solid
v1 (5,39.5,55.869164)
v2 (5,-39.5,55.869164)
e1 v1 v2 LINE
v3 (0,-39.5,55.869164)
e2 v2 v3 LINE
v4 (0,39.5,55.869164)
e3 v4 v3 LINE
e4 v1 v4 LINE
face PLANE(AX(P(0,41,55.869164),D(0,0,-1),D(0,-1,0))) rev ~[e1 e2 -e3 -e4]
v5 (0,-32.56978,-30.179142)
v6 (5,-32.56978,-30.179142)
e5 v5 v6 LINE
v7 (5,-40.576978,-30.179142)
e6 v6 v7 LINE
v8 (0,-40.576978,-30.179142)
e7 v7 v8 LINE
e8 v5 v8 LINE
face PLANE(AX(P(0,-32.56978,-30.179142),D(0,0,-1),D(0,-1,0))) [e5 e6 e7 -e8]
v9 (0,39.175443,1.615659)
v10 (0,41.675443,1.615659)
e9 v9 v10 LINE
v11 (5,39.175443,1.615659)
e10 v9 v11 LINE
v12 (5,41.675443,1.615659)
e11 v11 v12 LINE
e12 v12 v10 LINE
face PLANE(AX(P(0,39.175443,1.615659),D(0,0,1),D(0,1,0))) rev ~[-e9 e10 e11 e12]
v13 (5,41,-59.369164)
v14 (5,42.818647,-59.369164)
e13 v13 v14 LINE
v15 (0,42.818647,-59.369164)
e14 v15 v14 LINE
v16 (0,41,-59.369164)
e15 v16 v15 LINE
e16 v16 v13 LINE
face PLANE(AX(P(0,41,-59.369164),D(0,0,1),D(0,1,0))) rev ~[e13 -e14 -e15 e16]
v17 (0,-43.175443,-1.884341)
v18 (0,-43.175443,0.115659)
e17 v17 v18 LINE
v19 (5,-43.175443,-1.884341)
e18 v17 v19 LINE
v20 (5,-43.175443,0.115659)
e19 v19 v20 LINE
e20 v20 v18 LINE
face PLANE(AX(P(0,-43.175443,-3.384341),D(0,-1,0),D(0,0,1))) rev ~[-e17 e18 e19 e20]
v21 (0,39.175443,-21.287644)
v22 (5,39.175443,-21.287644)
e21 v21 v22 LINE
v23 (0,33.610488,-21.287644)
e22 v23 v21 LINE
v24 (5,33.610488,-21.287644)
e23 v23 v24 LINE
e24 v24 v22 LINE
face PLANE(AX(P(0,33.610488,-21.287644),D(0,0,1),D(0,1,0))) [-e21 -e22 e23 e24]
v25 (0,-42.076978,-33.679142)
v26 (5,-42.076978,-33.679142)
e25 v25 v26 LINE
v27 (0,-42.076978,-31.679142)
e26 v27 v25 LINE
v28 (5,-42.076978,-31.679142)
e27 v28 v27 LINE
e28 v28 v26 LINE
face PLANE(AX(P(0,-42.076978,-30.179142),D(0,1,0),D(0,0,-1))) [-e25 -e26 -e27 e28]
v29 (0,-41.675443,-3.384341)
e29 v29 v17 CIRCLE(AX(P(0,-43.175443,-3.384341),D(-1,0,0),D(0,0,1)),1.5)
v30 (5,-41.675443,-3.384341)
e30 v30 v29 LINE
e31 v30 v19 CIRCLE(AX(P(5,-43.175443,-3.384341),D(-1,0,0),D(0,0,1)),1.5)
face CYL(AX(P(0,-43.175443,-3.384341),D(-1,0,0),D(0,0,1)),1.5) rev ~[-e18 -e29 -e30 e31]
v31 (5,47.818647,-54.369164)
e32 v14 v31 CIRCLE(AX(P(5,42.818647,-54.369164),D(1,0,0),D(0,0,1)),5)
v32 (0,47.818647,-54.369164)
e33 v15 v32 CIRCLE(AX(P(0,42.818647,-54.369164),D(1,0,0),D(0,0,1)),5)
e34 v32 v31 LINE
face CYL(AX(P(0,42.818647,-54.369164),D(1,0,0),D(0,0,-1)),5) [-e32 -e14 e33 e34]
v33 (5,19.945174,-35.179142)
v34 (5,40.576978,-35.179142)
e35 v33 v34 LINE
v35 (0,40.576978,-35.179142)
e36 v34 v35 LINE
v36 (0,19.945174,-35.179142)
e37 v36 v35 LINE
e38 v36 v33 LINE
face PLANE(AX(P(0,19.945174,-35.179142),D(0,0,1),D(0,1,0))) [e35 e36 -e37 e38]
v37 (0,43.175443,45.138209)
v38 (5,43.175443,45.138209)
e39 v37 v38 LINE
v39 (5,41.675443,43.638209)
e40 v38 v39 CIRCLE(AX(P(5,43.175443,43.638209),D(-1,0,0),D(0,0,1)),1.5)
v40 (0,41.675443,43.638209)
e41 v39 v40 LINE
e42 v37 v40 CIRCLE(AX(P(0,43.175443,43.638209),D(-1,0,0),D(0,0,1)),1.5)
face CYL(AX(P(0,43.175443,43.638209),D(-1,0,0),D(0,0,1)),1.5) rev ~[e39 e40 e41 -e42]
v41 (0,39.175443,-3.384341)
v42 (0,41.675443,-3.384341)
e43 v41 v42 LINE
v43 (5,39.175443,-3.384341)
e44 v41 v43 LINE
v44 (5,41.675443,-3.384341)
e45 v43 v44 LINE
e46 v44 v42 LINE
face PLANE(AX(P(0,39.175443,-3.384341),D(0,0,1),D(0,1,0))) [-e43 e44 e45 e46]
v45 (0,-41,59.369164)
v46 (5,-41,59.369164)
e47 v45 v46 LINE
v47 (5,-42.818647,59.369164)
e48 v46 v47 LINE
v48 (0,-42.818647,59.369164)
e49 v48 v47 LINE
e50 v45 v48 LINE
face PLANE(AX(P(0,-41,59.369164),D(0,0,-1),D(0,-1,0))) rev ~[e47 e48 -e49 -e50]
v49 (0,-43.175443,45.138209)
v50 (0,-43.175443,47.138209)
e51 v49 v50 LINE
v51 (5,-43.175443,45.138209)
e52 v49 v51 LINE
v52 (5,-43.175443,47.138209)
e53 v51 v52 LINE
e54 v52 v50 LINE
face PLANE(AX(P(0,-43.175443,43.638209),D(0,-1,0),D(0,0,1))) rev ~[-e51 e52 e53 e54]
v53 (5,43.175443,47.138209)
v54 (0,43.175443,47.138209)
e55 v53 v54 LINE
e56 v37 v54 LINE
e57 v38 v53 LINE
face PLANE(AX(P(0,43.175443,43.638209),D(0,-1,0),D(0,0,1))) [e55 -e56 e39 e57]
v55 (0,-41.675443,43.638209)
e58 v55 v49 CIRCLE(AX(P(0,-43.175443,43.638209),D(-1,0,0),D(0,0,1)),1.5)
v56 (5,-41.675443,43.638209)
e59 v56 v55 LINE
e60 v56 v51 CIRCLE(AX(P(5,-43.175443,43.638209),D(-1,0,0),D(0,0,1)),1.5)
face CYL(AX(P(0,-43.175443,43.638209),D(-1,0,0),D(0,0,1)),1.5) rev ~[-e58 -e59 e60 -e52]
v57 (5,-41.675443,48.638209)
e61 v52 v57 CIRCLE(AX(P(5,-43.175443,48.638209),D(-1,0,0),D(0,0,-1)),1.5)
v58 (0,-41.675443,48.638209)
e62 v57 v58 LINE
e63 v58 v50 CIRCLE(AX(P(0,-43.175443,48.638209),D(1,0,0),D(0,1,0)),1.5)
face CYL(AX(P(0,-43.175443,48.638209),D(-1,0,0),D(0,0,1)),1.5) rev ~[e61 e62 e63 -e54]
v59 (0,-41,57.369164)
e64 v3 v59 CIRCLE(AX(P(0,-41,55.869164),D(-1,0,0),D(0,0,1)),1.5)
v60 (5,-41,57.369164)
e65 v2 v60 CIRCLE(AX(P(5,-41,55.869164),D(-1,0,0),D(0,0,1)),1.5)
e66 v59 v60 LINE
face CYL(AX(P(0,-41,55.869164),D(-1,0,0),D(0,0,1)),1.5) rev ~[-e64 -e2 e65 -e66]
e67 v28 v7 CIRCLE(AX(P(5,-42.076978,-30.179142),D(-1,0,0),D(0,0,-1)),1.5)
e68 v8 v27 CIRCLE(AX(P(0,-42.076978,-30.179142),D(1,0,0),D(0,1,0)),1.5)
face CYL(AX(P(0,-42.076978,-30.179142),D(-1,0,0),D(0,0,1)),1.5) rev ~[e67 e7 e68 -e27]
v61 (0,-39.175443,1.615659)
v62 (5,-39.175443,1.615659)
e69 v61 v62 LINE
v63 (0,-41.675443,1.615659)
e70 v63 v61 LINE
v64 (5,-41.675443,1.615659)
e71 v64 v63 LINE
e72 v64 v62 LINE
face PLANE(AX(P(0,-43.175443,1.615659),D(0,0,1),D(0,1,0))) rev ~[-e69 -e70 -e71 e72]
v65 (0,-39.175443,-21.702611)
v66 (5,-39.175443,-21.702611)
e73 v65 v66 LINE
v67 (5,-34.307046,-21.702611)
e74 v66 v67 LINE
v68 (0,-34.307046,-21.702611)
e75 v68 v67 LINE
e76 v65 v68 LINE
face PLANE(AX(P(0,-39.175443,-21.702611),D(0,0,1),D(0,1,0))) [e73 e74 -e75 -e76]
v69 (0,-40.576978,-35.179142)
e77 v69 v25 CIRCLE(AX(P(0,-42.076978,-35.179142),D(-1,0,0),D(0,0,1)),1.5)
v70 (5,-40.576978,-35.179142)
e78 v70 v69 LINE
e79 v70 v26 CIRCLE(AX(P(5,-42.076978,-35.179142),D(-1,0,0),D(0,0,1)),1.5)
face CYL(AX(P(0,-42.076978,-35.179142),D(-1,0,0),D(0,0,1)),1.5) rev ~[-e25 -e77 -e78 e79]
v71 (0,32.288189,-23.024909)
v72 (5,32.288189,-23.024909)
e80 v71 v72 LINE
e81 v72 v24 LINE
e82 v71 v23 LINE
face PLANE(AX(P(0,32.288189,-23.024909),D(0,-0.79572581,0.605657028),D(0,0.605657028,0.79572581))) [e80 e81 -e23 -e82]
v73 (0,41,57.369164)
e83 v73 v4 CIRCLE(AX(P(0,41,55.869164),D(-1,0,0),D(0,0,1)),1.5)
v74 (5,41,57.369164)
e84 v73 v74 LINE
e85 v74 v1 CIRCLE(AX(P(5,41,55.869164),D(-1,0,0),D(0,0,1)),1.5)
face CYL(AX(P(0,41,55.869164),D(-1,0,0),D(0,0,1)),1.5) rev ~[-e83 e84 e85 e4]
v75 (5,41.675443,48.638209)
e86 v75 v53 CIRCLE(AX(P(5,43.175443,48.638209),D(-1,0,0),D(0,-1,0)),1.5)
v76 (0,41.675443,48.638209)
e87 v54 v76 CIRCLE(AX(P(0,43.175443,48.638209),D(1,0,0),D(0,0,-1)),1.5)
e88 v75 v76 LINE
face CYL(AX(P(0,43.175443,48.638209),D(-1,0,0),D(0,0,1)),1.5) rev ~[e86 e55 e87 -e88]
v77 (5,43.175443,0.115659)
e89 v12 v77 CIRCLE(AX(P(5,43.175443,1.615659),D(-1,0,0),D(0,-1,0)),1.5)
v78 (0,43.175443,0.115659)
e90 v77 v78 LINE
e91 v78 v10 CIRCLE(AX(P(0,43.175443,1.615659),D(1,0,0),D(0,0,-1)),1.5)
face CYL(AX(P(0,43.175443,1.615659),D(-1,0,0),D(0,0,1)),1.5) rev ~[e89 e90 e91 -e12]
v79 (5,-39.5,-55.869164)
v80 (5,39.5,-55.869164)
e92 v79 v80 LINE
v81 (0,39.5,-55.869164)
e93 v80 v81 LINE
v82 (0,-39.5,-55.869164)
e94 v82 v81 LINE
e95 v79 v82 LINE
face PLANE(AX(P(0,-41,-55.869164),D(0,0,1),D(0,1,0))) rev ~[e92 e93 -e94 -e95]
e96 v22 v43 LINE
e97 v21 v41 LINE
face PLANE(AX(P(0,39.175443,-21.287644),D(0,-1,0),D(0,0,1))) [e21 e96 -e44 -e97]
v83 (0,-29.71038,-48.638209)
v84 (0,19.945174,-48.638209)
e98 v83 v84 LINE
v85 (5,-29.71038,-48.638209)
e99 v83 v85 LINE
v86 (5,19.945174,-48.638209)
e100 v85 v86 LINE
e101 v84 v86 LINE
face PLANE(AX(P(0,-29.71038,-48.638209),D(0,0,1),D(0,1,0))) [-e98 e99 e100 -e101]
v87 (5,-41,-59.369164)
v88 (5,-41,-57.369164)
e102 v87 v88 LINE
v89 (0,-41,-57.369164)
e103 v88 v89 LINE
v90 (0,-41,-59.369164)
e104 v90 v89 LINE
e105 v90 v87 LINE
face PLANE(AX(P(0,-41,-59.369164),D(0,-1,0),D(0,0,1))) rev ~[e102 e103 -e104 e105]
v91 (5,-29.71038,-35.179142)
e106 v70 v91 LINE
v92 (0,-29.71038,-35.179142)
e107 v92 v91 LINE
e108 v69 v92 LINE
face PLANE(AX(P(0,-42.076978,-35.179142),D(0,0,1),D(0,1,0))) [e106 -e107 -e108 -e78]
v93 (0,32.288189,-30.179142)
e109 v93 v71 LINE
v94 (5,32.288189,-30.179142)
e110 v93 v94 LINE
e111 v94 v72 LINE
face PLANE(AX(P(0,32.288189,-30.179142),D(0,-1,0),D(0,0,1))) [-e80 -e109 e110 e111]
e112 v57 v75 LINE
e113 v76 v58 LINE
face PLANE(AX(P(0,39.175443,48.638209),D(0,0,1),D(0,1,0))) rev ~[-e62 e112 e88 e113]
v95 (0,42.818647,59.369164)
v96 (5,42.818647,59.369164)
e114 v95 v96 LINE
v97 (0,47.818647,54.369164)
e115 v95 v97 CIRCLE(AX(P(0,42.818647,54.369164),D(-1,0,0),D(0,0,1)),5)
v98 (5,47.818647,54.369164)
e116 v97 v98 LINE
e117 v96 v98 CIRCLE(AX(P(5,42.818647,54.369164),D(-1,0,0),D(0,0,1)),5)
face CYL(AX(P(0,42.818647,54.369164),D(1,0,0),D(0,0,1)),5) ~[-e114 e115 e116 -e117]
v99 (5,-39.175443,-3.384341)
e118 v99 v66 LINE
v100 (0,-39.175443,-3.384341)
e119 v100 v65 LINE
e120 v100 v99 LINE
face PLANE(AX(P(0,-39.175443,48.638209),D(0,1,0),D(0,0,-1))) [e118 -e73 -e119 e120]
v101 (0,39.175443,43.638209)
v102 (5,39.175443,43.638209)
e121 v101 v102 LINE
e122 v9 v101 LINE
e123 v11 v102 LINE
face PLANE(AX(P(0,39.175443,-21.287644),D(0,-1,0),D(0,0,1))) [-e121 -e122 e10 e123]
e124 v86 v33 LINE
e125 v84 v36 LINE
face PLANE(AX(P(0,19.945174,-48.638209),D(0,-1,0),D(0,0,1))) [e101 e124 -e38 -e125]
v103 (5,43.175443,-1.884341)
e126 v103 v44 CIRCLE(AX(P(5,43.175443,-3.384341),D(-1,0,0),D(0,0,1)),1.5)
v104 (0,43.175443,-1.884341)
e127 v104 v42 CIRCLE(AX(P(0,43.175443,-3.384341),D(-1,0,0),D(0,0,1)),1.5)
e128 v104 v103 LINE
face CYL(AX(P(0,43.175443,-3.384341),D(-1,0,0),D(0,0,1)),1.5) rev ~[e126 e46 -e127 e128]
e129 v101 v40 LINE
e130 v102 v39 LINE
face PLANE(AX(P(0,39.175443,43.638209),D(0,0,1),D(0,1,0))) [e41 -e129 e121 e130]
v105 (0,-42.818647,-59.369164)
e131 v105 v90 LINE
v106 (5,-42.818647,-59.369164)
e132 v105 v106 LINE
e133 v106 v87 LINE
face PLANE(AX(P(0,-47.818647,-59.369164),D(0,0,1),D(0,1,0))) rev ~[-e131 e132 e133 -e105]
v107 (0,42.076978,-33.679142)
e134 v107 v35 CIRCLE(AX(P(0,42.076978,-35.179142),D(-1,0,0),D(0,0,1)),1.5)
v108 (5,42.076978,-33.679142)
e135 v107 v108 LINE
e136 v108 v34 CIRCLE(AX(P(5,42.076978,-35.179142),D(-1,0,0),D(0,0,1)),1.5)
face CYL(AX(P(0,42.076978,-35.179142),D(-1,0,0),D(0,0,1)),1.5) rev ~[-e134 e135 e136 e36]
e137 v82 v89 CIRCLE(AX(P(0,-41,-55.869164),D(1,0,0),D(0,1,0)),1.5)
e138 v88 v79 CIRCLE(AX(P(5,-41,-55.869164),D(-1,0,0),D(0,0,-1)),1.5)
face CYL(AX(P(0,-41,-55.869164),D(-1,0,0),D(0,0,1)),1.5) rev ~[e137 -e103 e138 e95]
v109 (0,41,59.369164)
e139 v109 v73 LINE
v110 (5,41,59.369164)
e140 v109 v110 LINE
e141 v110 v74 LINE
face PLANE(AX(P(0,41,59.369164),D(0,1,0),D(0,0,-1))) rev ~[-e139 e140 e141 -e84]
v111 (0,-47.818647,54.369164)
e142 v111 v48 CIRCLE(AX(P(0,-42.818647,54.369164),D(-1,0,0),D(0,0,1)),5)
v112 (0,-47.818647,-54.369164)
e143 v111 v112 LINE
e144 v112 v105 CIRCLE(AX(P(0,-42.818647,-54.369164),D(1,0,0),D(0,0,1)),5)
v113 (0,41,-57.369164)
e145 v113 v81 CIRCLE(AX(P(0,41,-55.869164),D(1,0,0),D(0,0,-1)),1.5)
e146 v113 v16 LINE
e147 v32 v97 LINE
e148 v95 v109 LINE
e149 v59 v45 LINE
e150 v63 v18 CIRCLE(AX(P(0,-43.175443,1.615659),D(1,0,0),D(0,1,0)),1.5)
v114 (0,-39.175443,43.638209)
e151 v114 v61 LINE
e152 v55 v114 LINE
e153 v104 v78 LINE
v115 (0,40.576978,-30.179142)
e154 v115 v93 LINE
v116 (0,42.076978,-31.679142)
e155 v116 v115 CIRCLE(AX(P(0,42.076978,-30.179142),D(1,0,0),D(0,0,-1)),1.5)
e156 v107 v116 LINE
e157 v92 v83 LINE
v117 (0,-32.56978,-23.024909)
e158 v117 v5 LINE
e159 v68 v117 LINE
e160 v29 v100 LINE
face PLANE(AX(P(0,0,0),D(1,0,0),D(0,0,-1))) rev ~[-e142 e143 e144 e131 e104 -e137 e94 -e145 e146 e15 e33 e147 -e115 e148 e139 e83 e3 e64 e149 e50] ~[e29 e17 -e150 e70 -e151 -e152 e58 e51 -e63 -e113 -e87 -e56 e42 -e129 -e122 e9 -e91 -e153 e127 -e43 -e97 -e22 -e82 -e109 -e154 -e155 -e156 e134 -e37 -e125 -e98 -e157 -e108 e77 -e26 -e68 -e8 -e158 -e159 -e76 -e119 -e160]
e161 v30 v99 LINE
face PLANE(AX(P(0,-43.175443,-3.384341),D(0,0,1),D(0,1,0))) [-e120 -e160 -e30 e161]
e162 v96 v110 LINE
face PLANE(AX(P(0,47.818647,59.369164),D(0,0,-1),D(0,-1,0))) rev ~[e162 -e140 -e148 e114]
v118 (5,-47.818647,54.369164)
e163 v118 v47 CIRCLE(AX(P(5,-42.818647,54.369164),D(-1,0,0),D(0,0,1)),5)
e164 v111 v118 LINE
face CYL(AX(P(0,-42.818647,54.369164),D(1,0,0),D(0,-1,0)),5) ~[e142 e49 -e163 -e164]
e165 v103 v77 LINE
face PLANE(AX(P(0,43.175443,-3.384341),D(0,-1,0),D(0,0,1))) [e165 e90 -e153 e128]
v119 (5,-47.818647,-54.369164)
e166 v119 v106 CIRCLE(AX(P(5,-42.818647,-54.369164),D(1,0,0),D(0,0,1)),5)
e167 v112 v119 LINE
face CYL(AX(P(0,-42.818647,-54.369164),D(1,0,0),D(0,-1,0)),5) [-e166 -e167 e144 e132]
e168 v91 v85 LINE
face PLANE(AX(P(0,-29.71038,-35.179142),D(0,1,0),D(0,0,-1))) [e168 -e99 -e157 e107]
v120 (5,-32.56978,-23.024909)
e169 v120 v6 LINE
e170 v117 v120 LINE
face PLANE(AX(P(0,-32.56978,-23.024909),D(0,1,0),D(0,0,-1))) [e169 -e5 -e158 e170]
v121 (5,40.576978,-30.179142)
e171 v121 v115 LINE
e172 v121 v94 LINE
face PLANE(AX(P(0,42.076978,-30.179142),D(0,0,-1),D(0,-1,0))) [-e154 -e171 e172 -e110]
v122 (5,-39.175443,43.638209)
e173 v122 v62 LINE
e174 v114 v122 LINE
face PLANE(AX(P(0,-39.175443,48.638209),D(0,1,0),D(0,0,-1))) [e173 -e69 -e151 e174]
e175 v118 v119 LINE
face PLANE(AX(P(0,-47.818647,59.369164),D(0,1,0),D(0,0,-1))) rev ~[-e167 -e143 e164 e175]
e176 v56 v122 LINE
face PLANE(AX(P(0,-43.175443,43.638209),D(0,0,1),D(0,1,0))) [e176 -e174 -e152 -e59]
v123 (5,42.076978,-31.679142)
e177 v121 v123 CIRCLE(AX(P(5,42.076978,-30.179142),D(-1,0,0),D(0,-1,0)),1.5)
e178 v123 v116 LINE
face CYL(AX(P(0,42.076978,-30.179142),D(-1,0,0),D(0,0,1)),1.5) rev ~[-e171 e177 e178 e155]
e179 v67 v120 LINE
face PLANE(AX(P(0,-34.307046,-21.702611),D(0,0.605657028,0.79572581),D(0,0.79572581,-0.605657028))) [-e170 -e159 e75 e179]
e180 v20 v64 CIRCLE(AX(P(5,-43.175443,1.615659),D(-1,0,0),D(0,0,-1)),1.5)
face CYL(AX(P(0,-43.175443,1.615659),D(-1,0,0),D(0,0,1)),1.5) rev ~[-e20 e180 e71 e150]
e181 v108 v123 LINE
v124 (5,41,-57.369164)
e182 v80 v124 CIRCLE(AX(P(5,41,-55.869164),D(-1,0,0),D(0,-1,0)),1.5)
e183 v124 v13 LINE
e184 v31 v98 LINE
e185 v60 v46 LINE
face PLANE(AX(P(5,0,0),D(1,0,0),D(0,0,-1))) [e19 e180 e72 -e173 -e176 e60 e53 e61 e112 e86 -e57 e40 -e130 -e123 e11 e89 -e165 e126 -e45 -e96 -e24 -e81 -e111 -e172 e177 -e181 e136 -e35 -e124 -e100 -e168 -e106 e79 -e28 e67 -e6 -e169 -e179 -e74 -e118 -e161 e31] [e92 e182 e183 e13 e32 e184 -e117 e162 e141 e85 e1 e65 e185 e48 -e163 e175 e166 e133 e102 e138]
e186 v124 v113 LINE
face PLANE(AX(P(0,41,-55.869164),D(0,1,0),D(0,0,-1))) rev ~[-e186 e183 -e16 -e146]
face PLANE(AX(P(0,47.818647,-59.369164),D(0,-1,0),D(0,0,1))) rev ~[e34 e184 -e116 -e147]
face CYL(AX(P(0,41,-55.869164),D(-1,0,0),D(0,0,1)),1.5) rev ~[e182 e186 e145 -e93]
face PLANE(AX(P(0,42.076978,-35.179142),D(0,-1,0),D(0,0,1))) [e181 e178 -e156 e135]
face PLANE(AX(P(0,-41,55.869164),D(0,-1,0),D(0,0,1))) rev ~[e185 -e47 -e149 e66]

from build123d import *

# Parameters (mm, degrees)
BOSS_EXTRUDE1_DEPTH = 5
FILLET1_R           = 5
CUT_EXTRUDE1_REACH  = 7
SKETCH2_W           = 5
SKETCH2_H           = 4
CUT_EXTRUDE2_REACH  = 7
SKETCH3_R           = 1.5


with BuildPart() as part:
    # Sketch1 → Boss-Extrude1 (new body)
    with BuildSketch(Plane(origin=(0, 0, 0), x_dir=(0, 0, -1), z_dir=(1, 0, 0))):
        Polygon((-59.36916415, -47.818646587), (0, -47.818646587), (59.36916415, -47.818646587), (59.36916415, -41), (55.86916415, -41), (55.86916415, 41), (59.36916415, 41), (59.36916415, 47.818646587), (-59.36916415, 47.818646587), (-59.36916415, 41), (-55.86916415, 41), (-55.86916415, -41), (-59.36916415, -41), align=None)
        Polygon((21.702610628, -39.175443067), (21.702610628, -34.307045578), (23.024909313, -32.569779859), (30.179141539, -32.569779859), (30.179141539, -42.076978078), (35.179141539, -42.076978078), (35.179141539, -29.710380013), (48.63820865, -29.710380013), (48.63820865, 19.945173818), (35.179141539, 19.945173818), (35.179141539, 42.076978078), (30.179141539, 42.076978078), (30.179141539, 32.288188968), (23.024909313, 32.288188968), (21.287643594, 33.610487654), (21.287643594, 39.175443067), (-48.63820865, 39.175443067), (-48.63820865, -39.175443067), align=None, mode=Mode.SUBTRACT)
    extrude(amount=BOSS_EXTRUDE1_DEPTH)

    # Fillet1
    fillet1_edges = [part.edges().sort_by_distance(p)[0] for p in [
        (2.5, -47.818646587, -59.36916415),
        (2.5, -47.818646587, 59.36916415),
        (2.5, 47.818646587, 59.36916415),
        (2.5, 47.818646587, -59.36916415),
    ]]
    fillet(fillet1_edges, radius=FILLET1_R)

    # Sketch2 → Cut-Extrude1 (cut, up to next)
    with BuildSketch(Plane.ZY, mode=Mode.PRIVATE) as cut_extrude1_sk1:
        with Locations((46.13820865, 41.175443067)):
            Rectangle(SKETCH2_W, SKETCH2_H)
    cut_extrude1_tool1 = extrude(cut_extrude1_sk1.sketch, amount=-CUT_EXTRUDE1_REACH, mode=Mode.PRIVATE) & part.part
    add(cut_extrude1_tool1.solids().sort_by_distance((0, 41.175443, 46.138209))[0], mode=Mode.SUBTRACT)
    # Sketch2 → Cut-Extrude1 (cut, up to next)
    with BuildSketch(Plane.ZY, mode=Mode.PRIVATE) as cut_extrude1_sk2:
        with Locations((46.13820865, -41.175443067)):
            Rectangle(SKETCH2_W, SKETCH2_H)
    cut_extrude1_tool2 = extrude(cut_extrude1_sk2.sketch, amount=-CUT_EXTRUDE1_REACH, mode=Mode.PRIVATE) & part.part
    add(cut_extrude1_tool2.solids().sort_by_distance((0, -41.175443, 46.138209))[0], mode=Mode.SUBTRACT)
    # Sketch2 → Cut-Extrude1 (cut, up to next)
    with BuildSketch(Plane.ZY, mode=Mode.PRIVATE) as cut_extrude1_sk3:
        with Locations((-0.884341096, -41.175443067)):
            Rectangle(SKETCH2_W, SKETCH2_H)
    cut_extrude1_tool3 = extrude(cut_extrude1_sk3.sketch, amount=-CUT_EXTRUDE1_REACH, mode=Mode.PRIVATE) & part.part
    add(cut_extrude1_tool3.solids().sort_by_distance((0, -41.175443, -0.884341))[0], mode=Mode.SUBTRACT)
    # Sketch2 → Cut-Extrude1 (cut, up to next)
    with BuildSketch(Plane.ZY, mode=Mode.PRIVATE) as cut_extrude1_sk4:
        with Locations((-0.884341096, 41.175443067)):
            Rectangle(SKETCH2_W, SKETCH2_H)
    cut_extrude1_tool4 = extrude(cut_extrude1_sk4.sketch, amount=-CUT_EXTRUDE1_REACH, mode=Mode.PRIVATE) & part.part
    add(cut_extrude1_tool4.solids().sort_by_distance((0, 41.175443, -0.884341))[0], mode=Mode.SUBTRACT)

    # Sketch3 → Cut-Extrude2 (cut, up to next)
    with BuildSketch(Plane.ZY, mode=Mode.PRIVATE) as cut_extrude2_sk1:
        with Locations((-35.179141539, 42.076978078)):
            Circle(SKETCH3_R)
    cut_extrude2_tool1 = extrude(cut_extrude2_sk1.sketch, amount=-CUT_EXTRUDE2_REACH, mode=Mode.PRIVATE) & part.part
    add(cut_extrude2_tool1.solids().sort_by_distance((0, 42.076978, -35.179142))[0], mode=Mode.SUBTRACT)
    # Sketch3 → Cut-Extrude2 (cut, up to next)
    with BuildSketch(Plane.ZY, mode=Mode.PRIVATE) as cut_extrude2_sk2:
        with Locations((-30.179141539, 42.076978078)):
            Circle(SKETCH3_R)
    cut_extrude2_tool2 = extrude(cut_extrude2_sk2.sketch, amount=-CUT_EXTRUDE2_REACH, mode=Mode.PRIVATE) & part.part
    add(cut_extrude2_tool2.solids().sort_by_distance((0, 42.076978, -30.179142))[0], mode=Mode.SUBTRACT)
    # Sketch3 → Cut-Extrude2 (cut, up to next)
    with BuildSketch(Plane.ZY, mode=Mode.PRIVATE) as cut_extrude2_sk3:
        with Locations((-3.384341096, 43.175443067)):
            Circle(SKETCH3_R)
    cut_extrude2_tool3 = extrude(cut_extrude2_sk3.sketch, amount=-CUT_EXTRUDE2_REACH, mode=Mode.PRIVATE) & part.part
    add(cut_extrude2_tool3.solids().sort_by_distance((0, 43.175443, -3.384341))[0], mode=Mode.SUBTRACT)
    # Sketch3 → Cut-Extrude2 (cut, up to next)
    with BuildSketch(Plane.ZY, mode=Mode.PRIVATE) as cut_extrude2_sk4:
        with Locations((1.615658904, 43.175443067)):
            Circle(SKETCH3_R)
    cut_extrude2_tool4 = extrude(cut_extrude2_sk4.sketch, amount=-CUT_EXTRUDE2_REACH, mode=Mode.PRIVATE) & part.part
    add(cut_extrude2_tool4.solids().sort_by_distance((0, 43.175443, 1.615659))[0], mode=Mode.SUBTRACT)
    # Sketch3 → Cut-Extrude2 (cut, up to next)
    with BuildSketch(Plane.ZY, mode=Mode.PRIVATE) as cut_extrude2_sk5:
        with Locations((-55.86916415, 41)):
            Circle(SKETCH3_R)
    cut_extrude2_tool5 = extrude(cut_extrude2_sk5.sketch, amount=-CUT_EXTRUDE2_REACH, mode=Mode.PRIVATE) & part.part
    add(cut_extrude2_tool5.solids().sort_by_distance((0, 41, -55.869164))[0], mode=Mode.SUBTRACT)
    # Sketch3 → Cut-Extrude2 (cut, up to next)
    with BuildSketch(Plane.ZY, mode=Mode.PRIVATE) as cut_extrude2_sk6:
        with Locations((43.63820865, 43.175443067)):
            Circle(SKETCH3_R)
    cut_extrude2_tool6 = extrude(cut_extrude2_sk6.sketch, amount=-CUT_EXTRUDE2_REACH, mode=Mode.PRIVATE) & part.part
    add(cut_extrude2_tool6.solids().sort_by_distance((0, 43.175443, 43.638209))[0], mode=Mode.SUBTRACT)
    # Sketch3 → Cut-Extrude2 (cut, up to next)
    with BuildSketch(Plane.ZY, mode=Mode.PRIVATE) as cut_extrude2_sk7:
        with Locations((48.63820865, 43.175443067)):
            Circle(SKETCH3_R)
    cut_extrude2_tool7 = extrude(cut_extrude2_sk7.sketch, amount=-CUT_EXTRUDE2_REACH, mode=Mode.PRIVATE) & part.part
    add(cut_extrude2_tool7.solids().sort_by_distance((0, 43.175443, 48.638209))[0], mode=Mode.SUBTRACT)
    # Sketch3 → Cut-Extrude2 (cut, up to next)
    with BuildSketch(Plane.ZY, mode=Mode.PRIVATE) as cut_extrude2_sk8:
        with Locations((48.63820865, -43.175443067)):
            Circle(SKETCH3_R)
    cut_extrude2_tool8 = extrude(cut_extrude2_sk8.sketch, amount=-CUT_EXTRUDE2_REACH, mode=Mode.PRIVATE) & part.part
    add(cut_extrude2_tool8.solids().sort_by_distance((0, -43.175443, 48.638209))[0], mode=Mode.SUBTRACT)
    # Sketch3 → Cut-Extrude2 (cut, up to next)
    with BuildSketch(Plane.ZY, mode=Mode.PRIVATE) as cut_extrude2_sk9:
        with Locations((43.63820865, -43.175443067)):
            Circle(SKETCH3_R)
    cut_extrude2_tool9 = extrude(cut_extrude2_sk9.sketch, amount=-CUT_EXTRUDE2_REACH, mode=Mode.PRIVATE) & part.part
    add(cut_extrude2_tool9.solids().sort_by_distance((0, -43.175443, 43.638209))[0], mode=Mode.SUBTRACT)
    # Sketch3 → Cut-Extrude2 (cut, up to next)
    with BuildSketch(Plane.ZY, mode=Mode.PRIVATE) as cut_extrude2_sk10:
        with Locations((1.615658904, -43.175443067)):
            Circle(SKETCH3_R)
    cut_extrude2_tool10 = extrude(cut_extrude2_sk10.sketch, amount=-CUT_EXTRUDE2_REACH, mode=Mode.PRIVATE) & part.part
    add(cut_extrude2_tool10.solids().sort_by_distance((0, -43.175443, 1.615659))[0], mode=Mode.SUBTRACT)
    # Sketch3 → Cut-Extrude2 (cut, up to next)
    with BuildSketch(Plane.ZY, mode=Mode.PRIVATE) as cut_extrude2_sk11:
        with Locations((-3.384341096, -43.175443067)):
            Circle(SKETCH3_R)
    cut_extrude2_tool11 = extrude(cut_extrude2_sk11.sketch, amount=-CUT_EXTRUDE2_REACH, mode=Mode.PRIVATE) & part.part
    add(cut_extrude2_tool11.solids().sort_by_distance((0, -43.175443, -3.384341))[0], mode=Mode.SUBTRACT)
    # Sketch3 → Cut-Extrude2 (cut, up to next)
    with BuildSketch(Plane.ZY, mode=Mode.PRIVATE) as cut_extrude2_sk12:
        with Locations((-30.179141539, -42.076978078)):
            Circle(SKETCH3_R)
    cut_extrude2_tool12 = extrude(cut_extrude2_sk12.sketch, amount=-CUT_EXTRUDE2_REACH, mode=Mode.PRIVATE) & part.part
    add(cut_extrude2_tool12.solids().sort_by_distance((0, -42.076978, -30.179142))[0], mode=Mode.SUBTRACT)
    # Sketch3 → Cut-Extrude2 (cut, up to next)
    with BuildSketch(Plane.ZY, mode=Mode.PRIVATE) as cut_extrude2_sk13:
        with Locations((-35.179141539, -42.076978078)):
            Circle(SKETCH3_R)
    cut_extrude2_tool13 = extrude(cut_extrude2_sk13.sketch, amount=-CUT_EXTRUDE2_REACH, mode=Mode.PRIVATE) & part.part
    add(cut_extrude2_tool13.solids().sort_by_distance((0, -42.076978, -35.179142))[0], mode=Mode.SUBTRACT)
    # Sketch3 → Cut-Extrude2 (cut, up to next)
    with BuildSketch(Plane.ZY, mode=Mode.PRIVATE) as cut_extrude2_sk14:
        with Locations((-55.86916415, -41)):
            Circle(SKETCH3_R)
    cut_extrude2_tool14 = extrude(cut_extrude2_sk14.sketch, amount=-CUT_EXTRUDE2_REACH, mode=Mode.PRIVATE) & part.part
    add(cut_extrude2_tool14.solids().sort_by_distance((0, -41, -55.869164))[0], mode=Mode.SUBTRACT)
    # Sketch3 → Cut-Extrude2 (cut, up to next)
    with BuildSketch(Plane.ZY, mode=Mode.PRIVATE) as cut_extrude2_sk15:
        with Locations((55.86916415, -41)):
            Circle(SKETCH3_R)
    cut_extrude2_tool15 = extrude(cut_extrude2_sk15.sketch, amount=-CUT_EXTRUDE2_REACH, mode=Mode.PRIVATE) & part.part
    add(cut_extrude2_tool15.solids().sort_by_distance((0, -41, 55.869164))[0], mode=Mode.SUBTRACT)
    # Sketch3 → Cut-Extrude2 (cut, up to next)
    with BuildSketch(Plane.ZY, mode=Mode.PRIVATE) as cut_extrude2_sk16:
        with Locations((55.86916415, 41)):
            Circle(SKETCH3_R)
    cut_extrude2_tool16 = extrude(cut_extrude2_sk16.sketch, amount=-CUT_EXTRUDE2_REACH, mode=Mode.PRIVATE) & part.part
    add(cut_extrude2_tool16.solids().sort_by_distance((0, 41, 55.869164))[0], mode=Mode.SUBTRACT)


solid = part.part
